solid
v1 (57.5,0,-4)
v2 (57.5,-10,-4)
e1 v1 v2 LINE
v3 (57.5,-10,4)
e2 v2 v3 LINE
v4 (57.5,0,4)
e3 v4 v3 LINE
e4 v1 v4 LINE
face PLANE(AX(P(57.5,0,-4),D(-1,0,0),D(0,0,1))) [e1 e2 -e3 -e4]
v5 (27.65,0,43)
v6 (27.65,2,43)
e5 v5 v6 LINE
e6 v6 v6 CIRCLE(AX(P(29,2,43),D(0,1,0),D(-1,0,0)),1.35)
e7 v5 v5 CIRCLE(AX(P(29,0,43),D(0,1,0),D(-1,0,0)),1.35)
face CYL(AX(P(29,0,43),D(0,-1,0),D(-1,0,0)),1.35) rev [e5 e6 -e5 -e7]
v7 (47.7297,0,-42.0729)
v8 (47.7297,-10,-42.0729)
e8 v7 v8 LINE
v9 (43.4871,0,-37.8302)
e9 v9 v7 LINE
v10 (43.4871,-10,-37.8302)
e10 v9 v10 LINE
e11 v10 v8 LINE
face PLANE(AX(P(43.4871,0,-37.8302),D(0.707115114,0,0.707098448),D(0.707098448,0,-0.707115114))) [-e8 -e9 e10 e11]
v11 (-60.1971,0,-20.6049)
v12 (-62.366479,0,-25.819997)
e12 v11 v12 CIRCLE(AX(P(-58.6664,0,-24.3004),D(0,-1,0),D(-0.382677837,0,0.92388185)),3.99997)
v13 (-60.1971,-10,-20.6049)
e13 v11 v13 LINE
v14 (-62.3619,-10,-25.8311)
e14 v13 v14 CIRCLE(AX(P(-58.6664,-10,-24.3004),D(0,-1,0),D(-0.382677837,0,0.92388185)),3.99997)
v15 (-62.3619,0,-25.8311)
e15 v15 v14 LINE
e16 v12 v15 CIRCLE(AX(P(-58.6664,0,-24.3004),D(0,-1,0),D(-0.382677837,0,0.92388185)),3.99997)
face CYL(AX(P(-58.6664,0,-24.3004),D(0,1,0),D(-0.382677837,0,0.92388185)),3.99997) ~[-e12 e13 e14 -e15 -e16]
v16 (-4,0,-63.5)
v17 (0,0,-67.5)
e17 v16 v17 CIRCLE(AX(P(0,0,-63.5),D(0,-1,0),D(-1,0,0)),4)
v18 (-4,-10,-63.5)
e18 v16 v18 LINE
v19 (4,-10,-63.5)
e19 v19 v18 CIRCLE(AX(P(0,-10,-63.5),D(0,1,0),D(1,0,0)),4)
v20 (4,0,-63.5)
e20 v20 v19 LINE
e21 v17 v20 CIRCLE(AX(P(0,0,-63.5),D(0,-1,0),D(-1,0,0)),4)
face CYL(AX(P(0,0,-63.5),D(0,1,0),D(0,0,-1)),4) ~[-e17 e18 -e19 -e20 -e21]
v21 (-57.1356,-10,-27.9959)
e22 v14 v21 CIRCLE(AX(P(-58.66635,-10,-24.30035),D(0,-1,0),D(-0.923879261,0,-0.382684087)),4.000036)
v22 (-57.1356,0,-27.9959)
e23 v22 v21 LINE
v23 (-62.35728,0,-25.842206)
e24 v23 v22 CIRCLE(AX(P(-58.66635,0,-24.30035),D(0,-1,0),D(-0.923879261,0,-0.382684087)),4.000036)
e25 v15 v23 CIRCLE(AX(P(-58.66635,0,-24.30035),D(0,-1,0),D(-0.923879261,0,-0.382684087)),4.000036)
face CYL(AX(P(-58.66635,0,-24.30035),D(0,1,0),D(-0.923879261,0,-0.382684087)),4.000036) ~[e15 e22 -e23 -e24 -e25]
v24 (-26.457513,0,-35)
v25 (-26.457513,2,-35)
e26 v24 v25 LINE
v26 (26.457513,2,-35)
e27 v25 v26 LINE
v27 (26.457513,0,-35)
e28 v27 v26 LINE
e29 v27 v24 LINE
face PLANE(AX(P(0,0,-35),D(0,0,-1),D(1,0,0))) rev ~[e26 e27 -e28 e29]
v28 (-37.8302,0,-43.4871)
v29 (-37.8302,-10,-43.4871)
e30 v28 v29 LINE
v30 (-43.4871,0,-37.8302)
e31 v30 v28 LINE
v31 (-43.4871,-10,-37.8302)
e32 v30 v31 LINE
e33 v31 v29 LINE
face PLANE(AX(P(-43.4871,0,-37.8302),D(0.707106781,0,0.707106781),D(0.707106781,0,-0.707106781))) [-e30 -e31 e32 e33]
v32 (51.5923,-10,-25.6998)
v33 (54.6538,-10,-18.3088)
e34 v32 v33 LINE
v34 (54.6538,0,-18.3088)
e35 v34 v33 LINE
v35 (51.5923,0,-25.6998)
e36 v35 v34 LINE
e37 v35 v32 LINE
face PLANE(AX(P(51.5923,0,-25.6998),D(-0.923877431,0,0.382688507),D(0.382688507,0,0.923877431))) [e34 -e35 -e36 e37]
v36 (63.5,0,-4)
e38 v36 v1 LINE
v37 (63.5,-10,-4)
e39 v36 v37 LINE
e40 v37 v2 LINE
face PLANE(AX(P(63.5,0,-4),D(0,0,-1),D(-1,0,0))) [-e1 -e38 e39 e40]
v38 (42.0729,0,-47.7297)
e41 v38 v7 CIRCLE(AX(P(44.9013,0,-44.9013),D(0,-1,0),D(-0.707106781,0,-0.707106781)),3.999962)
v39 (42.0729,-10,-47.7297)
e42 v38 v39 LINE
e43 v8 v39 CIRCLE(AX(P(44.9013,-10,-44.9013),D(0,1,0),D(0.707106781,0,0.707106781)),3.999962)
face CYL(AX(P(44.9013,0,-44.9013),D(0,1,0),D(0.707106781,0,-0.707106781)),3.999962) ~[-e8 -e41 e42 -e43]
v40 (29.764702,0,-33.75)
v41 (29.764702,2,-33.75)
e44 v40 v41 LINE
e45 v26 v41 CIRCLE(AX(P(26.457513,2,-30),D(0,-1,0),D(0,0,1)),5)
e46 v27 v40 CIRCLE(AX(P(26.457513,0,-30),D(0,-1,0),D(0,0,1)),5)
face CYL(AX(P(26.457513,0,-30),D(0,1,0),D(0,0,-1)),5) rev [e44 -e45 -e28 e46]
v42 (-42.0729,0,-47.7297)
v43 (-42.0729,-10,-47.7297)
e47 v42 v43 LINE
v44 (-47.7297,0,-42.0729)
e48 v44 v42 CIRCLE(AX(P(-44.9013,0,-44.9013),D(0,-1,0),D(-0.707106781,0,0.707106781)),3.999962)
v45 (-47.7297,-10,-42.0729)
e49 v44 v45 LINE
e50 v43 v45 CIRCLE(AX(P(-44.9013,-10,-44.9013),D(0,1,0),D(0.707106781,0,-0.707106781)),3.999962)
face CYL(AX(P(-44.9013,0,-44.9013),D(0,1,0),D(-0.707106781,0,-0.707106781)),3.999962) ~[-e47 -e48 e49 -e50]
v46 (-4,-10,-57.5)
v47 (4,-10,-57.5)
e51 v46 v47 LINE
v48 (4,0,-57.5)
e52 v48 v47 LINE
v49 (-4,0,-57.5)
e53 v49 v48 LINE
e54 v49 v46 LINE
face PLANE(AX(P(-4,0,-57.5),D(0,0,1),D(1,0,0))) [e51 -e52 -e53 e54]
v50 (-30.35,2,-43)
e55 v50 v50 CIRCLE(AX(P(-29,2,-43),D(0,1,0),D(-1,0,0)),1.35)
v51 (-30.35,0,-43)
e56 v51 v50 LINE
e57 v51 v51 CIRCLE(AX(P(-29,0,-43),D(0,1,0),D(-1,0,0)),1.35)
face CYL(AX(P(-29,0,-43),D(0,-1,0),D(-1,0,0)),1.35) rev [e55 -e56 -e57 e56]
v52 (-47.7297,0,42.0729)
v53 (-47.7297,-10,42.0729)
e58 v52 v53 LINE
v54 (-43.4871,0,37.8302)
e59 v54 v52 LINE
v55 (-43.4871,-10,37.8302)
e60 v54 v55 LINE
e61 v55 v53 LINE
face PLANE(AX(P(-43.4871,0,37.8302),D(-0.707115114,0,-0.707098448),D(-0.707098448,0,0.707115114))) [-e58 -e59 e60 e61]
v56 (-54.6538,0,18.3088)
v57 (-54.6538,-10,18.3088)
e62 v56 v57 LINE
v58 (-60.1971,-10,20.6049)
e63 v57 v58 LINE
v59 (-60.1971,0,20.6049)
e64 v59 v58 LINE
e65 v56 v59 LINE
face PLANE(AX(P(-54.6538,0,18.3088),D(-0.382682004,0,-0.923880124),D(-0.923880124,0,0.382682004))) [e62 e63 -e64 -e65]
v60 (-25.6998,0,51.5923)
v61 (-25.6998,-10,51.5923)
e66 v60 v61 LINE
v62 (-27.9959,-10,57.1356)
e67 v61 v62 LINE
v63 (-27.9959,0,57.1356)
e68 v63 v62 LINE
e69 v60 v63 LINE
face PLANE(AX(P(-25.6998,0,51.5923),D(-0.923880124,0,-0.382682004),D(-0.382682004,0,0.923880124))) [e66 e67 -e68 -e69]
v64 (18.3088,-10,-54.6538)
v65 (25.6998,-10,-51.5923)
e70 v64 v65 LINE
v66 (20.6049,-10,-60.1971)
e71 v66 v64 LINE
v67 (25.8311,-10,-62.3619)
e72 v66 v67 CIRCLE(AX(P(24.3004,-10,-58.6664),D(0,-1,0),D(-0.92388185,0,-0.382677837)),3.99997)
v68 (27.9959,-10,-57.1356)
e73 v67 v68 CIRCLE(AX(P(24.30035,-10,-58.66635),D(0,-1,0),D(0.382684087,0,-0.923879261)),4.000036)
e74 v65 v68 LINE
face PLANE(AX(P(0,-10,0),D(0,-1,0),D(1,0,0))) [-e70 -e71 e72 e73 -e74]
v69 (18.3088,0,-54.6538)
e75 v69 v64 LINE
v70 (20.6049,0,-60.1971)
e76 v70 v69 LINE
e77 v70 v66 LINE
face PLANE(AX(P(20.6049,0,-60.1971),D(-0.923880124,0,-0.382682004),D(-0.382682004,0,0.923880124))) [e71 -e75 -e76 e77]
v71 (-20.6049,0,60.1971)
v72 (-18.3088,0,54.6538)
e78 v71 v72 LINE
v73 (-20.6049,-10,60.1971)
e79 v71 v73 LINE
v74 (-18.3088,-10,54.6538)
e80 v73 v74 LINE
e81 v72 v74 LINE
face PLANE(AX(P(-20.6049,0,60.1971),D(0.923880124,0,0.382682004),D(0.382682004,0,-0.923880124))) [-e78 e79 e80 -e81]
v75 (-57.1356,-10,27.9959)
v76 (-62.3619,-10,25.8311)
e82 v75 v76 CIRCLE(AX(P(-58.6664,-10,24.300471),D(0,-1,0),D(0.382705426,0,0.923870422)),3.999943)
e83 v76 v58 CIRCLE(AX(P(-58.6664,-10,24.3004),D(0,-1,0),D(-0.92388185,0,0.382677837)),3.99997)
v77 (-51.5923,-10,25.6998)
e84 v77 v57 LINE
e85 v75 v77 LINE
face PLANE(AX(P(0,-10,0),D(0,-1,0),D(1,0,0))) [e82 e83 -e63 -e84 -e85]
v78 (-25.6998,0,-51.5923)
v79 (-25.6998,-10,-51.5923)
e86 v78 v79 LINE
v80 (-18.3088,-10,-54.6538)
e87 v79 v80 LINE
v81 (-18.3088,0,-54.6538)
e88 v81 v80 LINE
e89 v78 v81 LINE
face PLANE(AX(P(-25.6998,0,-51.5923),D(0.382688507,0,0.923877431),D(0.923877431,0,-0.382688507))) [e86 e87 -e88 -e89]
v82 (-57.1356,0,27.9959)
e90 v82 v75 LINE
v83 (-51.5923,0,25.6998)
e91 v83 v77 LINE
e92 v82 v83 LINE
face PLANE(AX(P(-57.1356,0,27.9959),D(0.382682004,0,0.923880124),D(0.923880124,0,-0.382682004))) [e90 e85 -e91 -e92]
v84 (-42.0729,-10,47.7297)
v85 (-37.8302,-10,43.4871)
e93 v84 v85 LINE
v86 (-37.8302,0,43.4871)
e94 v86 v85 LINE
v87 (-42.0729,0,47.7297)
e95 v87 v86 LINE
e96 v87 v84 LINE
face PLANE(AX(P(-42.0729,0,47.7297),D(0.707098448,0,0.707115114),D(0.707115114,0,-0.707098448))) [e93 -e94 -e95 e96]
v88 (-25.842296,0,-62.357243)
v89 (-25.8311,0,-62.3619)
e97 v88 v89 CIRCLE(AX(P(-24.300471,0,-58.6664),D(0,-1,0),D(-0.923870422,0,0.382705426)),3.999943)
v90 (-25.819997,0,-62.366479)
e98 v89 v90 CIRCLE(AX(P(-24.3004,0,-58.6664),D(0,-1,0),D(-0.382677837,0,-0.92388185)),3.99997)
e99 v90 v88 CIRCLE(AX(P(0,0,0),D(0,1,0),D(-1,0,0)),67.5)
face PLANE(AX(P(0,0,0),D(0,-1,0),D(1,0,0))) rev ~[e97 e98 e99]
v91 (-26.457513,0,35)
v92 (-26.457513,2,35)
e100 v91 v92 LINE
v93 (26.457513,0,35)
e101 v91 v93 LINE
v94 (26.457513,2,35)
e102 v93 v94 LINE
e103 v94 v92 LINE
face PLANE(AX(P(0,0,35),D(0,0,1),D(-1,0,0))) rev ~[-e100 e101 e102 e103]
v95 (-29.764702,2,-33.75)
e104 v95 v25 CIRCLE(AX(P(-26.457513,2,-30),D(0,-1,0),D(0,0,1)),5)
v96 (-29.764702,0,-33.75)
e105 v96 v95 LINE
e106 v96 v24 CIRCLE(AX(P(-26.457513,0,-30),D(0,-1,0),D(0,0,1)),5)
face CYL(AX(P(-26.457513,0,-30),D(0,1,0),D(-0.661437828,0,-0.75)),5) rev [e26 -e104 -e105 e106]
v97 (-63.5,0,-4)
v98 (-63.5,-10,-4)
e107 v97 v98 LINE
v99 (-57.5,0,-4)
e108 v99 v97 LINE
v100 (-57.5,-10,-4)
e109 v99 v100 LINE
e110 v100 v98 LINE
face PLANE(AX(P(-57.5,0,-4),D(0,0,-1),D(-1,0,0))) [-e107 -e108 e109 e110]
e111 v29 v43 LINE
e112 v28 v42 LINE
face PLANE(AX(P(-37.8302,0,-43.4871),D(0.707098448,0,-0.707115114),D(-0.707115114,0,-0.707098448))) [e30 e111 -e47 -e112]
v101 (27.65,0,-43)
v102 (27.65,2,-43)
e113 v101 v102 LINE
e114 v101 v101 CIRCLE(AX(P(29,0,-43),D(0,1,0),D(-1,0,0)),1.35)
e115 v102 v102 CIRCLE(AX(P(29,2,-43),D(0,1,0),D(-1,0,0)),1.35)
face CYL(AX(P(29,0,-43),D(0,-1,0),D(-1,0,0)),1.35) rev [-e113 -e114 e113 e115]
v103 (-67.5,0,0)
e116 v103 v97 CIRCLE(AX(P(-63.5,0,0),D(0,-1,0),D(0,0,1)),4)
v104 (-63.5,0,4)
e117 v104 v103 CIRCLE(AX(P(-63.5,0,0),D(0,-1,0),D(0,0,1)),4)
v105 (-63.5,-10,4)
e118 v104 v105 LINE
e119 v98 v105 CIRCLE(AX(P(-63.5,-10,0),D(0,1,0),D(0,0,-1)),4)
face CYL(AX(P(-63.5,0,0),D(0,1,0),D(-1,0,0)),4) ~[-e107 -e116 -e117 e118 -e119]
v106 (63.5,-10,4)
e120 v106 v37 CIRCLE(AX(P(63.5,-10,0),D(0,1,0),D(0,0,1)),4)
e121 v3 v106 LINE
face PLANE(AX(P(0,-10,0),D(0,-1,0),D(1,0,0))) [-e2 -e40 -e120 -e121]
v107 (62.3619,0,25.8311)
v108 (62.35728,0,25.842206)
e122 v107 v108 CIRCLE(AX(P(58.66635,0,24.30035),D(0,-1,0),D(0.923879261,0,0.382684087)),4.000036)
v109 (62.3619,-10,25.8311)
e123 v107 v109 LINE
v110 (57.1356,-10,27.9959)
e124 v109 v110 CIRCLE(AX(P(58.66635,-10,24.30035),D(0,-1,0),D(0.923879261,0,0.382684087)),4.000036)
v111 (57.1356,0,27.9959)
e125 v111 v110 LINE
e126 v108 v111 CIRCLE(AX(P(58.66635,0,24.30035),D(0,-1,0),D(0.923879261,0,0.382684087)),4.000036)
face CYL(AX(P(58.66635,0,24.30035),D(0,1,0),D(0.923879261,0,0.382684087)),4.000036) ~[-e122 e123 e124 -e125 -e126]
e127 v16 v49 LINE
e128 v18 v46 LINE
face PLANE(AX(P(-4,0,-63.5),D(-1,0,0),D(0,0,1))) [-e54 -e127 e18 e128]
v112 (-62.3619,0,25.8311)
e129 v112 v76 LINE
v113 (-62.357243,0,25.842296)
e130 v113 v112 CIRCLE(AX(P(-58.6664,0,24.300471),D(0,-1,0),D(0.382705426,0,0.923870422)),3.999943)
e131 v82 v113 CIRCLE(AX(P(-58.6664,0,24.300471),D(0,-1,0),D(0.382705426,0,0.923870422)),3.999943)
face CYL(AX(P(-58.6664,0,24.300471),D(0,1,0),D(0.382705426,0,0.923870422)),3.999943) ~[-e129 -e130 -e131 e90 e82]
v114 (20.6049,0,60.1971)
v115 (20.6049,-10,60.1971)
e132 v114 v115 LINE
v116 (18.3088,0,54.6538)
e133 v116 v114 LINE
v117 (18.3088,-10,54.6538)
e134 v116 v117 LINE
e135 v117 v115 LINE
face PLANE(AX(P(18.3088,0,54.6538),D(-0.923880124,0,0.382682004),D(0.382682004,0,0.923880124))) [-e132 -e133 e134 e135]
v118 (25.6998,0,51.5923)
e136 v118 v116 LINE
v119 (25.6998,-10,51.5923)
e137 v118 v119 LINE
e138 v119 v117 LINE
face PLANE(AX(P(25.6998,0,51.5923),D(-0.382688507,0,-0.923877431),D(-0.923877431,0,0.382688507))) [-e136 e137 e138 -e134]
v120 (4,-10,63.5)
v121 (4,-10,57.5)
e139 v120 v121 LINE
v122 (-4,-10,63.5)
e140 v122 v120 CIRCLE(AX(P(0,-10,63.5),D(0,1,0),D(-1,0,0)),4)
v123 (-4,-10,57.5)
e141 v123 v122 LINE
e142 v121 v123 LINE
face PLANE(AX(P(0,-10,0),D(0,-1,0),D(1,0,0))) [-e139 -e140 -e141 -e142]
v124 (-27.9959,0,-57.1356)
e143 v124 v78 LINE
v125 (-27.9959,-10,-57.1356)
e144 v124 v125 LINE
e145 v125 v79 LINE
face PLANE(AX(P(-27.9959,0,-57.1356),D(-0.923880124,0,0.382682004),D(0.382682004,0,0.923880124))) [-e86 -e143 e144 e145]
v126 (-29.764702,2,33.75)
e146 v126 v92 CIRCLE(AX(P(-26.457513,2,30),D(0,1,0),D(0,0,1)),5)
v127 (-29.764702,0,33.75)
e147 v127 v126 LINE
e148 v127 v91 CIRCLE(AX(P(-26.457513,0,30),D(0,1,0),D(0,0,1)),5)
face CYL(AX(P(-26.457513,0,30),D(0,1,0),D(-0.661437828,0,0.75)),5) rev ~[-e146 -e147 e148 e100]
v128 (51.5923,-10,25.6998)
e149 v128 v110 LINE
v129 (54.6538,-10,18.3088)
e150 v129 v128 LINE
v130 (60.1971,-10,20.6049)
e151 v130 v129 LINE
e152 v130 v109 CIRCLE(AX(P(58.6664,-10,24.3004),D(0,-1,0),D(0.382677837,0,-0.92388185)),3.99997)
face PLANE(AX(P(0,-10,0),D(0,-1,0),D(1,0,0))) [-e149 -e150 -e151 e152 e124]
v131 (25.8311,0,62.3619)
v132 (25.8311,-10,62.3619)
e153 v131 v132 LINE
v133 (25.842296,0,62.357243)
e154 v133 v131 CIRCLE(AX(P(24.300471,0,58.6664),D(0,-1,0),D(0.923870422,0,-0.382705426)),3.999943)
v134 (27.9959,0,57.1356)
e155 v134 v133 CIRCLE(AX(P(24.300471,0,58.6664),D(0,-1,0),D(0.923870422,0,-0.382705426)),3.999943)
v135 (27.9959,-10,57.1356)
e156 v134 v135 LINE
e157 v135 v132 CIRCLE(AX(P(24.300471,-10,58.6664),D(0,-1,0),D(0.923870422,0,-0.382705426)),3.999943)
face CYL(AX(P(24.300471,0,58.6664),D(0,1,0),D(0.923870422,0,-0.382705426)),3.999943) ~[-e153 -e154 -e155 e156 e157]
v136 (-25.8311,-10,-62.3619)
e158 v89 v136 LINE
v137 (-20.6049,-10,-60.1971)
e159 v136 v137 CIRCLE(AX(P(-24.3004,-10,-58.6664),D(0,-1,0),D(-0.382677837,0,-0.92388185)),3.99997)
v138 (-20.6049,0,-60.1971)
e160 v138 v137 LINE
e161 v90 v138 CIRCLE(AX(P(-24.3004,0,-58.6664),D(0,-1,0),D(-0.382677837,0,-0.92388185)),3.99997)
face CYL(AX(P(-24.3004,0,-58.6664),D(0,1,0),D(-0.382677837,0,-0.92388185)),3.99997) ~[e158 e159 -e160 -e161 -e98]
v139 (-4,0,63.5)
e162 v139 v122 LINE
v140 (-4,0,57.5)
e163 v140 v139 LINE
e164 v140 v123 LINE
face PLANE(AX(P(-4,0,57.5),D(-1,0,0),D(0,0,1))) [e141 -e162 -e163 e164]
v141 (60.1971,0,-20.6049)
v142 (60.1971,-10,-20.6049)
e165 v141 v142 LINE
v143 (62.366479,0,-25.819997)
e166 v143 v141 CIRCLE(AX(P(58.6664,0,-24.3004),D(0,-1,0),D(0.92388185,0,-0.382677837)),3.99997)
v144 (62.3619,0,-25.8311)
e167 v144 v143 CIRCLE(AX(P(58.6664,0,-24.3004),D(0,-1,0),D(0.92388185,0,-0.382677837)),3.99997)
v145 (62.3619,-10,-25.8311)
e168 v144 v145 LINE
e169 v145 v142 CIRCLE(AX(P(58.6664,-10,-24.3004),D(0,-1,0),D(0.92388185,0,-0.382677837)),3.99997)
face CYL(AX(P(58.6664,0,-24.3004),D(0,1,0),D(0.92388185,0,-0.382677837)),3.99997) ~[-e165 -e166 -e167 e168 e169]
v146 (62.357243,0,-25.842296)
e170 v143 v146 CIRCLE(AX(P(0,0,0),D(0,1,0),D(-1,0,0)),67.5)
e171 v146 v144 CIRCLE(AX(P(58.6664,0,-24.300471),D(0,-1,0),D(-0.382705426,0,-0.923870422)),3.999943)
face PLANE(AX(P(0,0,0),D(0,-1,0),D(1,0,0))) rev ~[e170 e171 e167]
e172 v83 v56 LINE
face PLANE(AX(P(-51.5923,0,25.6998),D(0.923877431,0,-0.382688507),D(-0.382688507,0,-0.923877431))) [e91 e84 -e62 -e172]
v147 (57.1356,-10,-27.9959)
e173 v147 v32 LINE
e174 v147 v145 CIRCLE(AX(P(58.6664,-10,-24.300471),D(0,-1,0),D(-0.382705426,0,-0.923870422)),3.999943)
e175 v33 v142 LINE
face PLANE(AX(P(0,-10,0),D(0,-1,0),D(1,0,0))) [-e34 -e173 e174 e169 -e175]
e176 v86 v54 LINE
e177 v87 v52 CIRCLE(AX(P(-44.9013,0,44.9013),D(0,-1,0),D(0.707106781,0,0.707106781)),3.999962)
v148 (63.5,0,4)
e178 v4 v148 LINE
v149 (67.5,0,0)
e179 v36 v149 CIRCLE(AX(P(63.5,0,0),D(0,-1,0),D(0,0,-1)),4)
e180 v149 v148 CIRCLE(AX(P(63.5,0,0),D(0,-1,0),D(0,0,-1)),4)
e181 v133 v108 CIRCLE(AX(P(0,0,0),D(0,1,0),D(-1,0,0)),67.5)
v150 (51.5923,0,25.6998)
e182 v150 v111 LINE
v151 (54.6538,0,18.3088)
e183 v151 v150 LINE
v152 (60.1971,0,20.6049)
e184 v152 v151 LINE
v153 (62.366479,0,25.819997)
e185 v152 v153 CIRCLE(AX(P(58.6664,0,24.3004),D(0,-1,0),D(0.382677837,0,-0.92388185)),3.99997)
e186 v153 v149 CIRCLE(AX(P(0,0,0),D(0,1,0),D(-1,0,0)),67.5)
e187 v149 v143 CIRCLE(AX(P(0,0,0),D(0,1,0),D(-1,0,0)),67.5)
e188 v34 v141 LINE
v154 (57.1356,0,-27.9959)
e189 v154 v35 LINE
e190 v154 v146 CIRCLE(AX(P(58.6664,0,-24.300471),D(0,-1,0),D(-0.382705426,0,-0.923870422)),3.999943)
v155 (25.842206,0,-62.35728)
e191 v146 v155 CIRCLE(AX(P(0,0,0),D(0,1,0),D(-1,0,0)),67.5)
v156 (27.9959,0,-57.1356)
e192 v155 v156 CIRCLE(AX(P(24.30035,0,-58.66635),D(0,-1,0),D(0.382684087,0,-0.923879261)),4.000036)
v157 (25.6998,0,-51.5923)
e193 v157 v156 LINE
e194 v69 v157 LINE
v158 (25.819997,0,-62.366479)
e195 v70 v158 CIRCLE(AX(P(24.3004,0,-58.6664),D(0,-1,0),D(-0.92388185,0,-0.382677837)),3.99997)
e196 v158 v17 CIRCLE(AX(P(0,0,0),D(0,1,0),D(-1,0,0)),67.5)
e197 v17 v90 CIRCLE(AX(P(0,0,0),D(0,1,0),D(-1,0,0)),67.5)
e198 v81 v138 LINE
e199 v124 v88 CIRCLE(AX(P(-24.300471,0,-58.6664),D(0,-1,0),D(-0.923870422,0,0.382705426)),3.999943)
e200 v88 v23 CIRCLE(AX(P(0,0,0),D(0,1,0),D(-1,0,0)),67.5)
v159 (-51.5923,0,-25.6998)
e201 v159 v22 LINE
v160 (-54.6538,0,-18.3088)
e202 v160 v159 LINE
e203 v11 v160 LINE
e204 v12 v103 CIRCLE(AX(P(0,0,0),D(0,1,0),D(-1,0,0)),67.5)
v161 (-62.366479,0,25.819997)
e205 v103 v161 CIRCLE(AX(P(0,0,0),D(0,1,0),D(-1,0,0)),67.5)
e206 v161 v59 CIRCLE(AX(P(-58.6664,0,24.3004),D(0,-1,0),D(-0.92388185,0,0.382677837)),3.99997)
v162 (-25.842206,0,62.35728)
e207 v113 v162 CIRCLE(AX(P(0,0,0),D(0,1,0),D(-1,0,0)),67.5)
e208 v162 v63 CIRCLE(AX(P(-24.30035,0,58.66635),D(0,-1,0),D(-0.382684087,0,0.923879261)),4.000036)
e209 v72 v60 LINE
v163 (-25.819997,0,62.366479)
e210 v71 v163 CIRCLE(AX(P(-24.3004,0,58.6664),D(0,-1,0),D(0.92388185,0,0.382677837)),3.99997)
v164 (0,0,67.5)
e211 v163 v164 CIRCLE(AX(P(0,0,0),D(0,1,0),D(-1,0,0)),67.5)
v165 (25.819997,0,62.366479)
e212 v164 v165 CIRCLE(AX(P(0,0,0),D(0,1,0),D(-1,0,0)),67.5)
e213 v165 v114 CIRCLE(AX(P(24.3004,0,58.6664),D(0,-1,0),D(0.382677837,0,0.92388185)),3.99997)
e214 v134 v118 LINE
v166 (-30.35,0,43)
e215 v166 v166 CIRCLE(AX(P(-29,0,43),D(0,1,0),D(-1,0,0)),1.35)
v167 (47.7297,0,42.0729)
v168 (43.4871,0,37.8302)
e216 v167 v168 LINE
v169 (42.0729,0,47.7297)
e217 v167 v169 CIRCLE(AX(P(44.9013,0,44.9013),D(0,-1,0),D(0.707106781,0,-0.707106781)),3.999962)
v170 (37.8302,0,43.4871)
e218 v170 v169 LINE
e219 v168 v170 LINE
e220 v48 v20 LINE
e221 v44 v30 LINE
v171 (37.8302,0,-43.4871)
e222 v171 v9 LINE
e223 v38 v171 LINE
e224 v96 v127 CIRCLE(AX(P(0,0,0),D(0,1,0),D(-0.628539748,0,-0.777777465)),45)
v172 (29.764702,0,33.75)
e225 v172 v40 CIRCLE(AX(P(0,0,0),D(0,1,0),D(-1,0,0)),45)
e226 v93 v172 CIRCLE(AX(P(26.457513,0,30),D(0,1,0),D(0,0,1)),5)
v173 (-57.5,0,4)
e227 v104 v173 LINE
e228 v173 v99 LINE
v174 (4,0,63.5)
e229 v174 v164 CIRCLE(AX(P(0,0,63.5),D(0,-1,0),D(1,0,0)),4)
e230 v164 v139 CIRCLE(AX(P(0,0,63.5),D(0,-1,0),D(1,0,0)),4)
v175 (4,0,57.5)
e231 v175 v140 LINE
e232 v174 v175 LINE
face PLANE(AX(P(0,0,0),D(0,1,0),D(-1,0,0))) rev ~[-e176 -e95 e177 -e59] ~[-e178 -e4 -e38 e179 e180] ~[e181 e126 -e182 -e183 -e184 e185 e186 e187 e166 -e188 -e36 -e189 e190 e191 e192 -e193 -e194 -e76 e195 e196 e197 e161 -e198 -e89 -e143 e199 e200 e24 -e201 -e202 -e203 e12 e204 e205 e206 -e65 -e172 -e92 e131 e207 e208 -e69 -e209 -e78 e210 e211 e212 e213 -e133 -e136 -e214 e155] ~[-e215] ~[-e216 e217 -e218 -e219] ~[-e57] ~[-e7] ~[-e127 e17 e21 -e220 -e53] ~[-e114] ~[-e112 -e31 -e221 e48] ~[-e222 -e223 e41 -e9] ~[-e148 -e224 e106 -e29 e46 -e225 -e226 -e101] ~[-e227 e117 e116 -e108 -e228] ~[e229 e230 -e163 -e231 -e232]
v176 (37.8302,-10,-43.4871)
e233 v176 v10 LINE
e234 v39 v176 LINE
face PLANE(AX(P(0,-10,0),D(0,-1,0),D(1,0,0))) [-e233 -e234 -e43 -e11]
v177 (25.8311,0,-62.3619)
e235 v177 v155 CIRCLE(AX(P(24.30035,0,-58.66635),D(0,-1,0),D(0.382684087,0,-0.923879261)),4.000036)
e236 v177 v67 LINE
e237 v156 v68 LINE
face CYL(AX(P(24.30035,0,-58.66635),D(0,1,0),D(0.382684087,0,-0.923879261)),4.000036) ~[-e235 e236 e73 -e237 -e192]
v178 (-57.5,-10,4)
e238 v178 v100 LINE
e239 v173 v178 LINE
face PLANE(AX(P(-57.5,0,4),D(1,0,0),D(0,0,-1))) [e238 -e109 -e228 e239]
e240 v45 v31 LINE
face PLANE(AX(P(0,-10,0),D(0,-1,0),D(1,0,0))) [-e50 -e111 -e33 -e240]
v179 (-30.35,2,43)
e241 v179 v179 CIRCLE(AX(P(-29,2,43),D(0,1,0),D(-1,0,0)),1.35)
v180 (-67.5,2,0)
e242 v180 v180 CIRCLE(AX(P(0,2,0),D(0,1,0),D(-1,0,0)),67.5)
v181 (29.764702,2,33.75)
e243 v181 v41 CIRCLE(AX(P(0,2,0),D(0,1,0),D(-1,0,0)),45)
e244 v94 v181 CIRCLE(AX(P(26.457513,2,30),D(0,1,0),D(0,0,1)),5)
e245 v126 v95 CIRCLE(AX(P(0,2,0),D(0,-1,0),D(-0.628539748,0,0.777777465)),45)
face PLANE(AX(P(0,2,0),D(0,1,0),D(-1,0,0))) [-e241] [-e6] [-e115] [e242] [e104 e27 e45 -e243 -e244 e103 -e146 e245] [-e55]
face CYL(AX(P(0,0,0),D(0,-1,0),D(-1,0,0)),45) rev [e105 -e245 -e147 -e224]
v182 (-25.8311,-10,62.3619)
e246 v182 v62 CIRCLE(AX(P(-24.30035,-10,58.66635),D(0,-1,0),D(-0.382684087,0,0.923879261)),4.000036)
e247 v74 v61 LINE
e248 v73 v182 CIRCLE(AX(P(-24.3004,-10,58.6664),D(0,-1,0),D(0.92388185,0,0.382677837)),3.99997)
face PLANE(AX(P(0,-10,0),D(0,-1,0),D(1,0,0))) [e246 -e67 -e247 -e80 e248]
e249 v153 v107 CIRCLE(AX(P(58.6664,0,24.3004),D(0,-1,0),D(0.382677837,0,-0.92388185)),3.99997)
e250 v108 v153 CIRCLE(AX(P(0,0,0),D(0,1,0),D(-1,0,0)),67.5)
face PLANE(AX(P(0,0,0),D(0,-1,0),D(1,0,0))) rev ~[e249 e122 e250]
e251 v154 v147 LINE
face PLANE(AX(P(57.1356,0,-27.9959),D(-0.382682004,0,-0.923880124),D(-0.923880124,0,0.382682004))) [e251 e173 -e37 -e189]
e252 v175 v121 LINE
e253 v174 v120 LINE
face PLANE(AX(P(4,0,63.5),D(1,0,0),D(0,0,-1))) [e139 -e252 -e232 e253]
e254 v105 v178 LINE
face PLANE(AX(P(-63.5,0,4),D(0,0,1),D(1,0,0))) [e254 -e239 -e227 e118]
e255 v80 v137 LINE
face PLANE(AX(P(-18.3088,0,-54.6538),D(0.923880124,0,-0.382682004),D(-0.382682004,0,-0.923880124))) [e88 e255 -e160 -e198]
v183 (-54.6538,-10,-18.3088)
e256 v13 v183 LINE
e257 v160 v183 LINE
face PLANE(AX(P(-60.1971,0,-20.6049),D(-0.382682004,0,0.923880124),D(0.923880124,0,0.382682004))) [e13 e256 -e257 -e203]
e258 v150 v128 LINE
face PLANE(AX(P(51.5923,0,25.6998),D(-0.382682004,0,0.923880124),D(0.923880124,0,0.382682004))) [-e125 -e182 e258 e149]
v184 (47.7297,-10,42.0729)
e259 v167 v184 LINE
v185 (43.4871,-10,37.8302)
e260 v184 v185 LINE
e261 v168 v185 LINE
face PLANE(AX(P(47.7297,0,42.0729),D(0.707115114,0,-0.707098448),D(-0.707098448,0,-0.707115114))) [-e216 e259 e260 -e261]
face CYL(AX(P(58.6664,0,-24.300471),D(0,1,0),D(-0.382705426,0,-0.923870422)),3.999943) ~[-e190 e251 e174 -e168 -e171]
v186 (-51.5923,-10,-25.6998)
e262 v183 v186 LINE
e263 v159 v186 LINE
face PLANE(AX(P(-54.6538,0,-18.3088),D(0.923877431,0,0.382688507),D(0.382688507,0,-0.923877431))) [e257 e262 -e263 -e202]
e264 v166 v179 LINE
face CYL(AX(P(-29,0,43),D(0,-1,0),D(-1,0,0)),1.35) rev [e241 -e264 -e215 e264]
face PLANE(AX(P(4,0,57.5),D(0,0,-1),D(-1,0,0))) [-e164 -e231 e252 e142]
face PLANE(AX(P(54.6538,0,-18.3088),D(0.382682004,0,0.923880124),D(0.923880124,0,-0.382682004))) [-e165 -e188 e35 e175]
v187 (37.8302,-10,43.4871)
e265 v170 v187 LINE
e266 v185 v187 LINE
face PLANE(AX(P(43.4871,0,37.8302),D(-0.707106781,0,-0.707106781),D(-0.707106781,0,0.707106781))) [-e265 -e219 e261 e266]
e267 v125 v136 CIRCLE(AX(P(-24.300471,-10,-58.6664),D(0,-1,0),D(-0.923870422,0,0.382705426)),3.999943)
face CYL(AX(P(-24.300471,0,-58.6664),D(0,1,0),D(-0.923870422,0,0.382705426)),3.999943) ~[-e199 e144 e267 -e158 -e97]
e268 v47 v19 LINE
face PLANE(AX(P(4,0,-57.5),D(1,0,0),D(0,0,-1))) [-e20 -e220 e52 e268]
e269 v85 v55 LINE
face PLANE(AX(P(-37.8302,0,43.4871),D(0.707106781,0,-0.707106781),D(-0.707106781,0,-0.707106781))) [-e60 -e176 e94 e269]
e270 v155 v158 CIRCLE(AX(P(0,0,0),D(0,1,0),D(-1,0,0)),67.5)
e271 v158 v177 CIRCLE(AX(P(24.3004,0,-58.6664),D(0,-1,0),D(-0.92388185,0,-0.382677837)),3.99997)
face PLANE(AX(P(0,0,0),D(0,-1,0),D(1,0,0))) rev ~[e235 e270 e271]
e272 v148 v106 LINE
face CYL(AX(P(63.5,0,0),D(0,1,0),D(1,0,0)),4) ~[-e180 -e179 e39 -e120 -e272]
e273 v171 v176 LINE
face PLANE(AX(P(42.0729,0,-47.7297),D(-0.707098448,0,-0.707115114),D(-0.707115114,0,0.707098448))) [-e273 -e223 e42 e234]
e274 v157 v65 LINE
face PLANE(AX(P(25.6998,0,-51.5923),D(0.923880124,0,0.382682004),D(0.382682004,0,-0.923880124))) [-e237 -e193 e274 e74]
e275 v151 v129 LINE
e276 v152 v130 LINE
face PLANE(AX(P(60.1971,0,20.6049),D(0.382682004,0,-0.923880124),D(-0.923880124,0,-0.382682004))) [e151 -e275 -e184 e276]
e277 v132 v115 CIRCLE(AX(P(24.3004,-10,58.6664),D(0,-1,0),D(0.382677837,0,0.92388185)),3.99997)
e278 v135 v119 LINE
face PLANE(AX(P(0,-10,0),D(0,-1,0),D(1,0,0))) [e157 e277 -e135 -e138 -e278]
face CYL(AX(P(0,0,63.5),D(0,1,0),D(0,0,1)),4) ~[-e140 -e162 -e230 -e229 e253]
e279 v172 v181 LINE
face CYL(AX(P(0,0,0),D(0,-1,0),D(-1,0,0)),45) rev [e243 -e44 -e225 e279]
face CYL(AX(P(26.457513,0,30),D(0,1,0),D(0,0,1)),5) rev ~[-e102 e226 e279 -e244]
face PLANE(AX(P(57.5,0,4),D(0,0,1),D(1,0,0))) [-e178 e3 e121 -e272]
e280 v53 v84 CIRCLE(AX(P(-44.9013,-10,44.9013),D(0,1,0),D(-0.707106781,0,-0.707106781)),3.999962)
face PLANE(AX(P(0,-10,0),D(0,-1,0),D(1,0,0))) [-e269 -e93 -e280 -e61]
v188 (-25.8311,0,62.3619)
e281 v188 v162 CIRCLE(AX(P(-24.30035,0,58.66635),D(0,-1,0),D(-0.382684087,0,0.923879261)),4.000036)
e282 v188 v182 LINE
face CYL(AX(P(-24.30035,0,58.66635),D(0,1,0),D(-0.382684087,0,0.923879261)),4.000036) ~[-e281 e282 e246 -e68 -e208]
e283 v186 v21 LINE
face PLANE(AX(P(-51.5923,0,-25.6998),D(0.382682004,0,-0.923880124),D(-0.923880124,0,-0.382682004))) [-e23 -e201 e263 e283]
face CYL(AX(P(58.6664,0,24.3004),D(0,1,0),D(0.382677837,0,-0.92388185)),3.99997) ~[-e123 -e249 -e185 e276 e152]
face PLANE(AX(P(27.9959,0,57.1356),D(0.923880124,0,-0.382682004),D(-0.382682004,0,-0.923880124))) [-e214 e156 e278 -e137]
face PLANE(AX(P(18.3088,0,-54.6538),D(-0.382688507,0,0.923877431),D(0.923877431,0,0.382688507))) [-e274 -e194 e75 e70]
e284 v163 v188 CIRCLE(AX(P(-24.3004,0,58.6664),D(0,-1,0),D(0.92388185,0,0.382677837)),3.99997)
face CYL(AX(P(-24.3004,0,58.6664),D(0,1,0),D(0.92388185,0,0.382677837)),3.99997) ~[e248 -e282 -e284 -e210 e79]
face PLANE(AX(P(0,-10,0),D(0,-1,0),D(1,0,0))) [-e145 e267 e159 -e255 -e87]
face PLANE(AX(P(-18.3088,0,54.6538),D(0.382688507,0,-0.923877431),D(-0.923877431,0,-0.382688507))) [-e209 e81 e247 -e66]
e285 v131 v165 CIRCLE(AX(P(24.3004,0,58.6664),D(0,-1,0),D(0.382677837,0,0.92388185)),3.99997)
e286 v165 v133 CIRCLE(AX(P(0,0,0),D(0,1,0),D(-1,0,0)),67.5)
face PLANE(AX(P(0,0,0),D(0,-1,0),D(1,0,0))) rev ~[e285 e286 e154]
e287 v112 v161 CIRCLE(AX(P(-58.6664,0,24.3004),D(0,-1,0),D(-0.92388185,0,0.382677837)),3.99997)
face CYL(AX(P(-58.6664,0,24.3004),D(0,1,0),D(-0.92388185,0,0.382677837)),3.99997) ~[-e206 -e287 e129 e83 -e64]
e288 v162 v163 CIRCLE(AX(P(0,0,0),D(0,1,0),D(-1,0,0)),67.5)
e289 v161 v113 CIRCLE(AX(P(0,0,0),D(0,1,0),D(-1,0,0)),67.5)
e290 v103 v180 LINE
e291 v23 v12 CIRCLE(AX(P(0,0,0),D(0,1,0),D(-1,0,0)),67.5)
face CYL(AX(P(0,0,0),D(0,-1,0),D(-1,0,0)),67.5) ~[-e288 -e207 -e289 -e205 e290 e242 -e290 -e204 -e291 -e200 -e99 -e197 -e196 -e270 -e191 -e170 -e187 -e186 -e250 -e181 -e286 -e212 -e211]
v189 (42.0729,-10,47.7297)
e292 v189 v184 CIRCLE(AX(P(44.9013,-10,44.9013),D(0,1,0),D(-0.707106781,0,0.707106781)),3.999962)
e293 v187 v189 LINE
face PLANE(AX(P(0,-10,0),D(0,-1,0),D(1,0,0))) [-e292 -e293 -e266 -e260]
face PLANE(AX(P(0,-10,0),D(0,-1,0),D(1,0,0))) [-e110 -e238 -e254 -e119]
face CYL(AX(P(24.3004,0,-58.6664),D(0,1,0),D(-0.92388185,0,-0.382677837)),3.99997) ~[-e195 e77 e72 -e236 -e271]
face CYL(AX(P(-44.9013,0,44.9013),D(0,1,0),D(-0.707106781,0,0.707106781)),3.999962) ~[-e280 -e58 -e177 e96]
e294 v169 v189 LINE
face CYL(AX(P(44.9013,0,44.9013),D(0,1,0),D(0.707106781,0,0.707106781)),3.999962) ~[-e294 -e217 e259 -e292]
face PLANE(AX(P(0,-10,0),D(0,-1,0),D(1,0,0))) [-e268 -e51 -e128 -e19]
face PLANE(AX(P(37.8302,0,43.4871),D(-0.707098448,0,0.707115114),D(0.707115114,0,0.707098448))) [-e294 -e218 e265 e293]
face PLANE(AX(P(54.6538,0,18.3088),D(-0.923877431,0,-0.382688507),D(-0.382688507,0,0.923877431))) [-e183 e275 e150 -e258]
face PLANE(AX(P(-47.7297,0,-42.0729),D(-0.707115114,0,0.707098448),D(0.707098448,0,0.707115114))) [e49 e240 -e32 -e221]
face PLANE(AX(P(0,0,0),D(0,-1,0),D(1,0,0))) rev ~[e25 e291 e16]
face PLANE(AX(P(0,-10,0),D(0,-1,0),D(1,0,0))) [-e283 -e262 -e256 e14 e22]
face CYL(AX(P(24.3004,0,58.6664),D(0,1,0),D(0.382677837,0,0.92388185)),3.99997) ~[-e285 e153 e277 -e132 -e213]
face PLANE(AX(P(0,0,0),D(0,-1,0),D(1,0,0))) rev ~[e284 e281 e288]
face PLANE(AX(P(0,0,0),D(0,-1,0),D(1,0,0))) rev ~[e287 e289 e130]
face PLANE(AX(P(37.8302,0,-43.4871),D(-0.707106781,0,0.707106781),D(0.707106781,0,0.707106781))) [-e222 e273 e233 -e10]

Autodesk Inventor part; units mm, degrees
ref_plane "YZ Plane" through (0, 0, 0) normal (1, 0, 0) x (0, 1, 0)
ref_plane "XZ Plane" through (0, 0, 0) normal (0, 1, 0) x (-1, 0, 0)
ref_plane "XY Plane" through (0, 0, 0) normal (0, 0, 1) x (1, 0, 0)
sketch "Sketch1" plane through (0, 0, 0) normal (0, 1, 0) x (-1, 0, 0)
  circle A0 centre (0, 0) radius 67.5
  line L0 (0, 0) -> (67.5, 0) construction
  line L1 (0, 0) -> (0, -67.5) construction
  circle A1 centre (0, 0) radius 45
  line L2 (0, 45) -> (0, 35)
  line L3 (0, 35) -> (-28.2843, 35)
  line L4 (0, 35) -> (28.2843, 35)
  line L5 (0, 0) -> (67.5, 0) construction
  line L6 (0, 0) -> (-45, 0) construction
  circle A2 centre (29, 43) radius 1.35
  circle A3 centre (-29, 43) radius 1.35
  circle A4 centre (29, -43) radius 1.35
  circle A5 centre (-29, -43) radius 1.35
  line L7 (0, -35) -> (-28.2843, -35)
  line L8 (0, -35) -> (28.2843, -35)
  point P0 (0, -45)
  dimension "d0" = 135
  dimension "d18" = 90
  dimension "d19" = 10
  dimension "d21" = 70
  dimension "d28" = 67.5
  dimension "d29" = 86
  dimension "d30" = 29
  dimension "d31" = 2.7
extrude "Extrusion1" add sketch "Sketch1" along normal blind 2 contours A0 | L4 L2 A1 | A1 L7 L8 | L2 L3 A1
sketch "Sketch2" plane through (0, 0, 0) normal (0, -1, 0) x (1, 0, 0)
  circle A0 centre (0, 0) radius 67.5 construction
  line L0 (67.5, 0) -> (62.5, 0) construction
  line L1 (57.5, 4) -> (63.5, 4)
  line L2 (67.5, 0) -> (67.5, 0)
  line L3 (63.5, -4) -> (57.5, -4)
  line L4 (57.5, -4) -> (57.5, 4)
  line L5 (57.5, 4) -> (67.5, -4) construction
  line L6 (67.5, 4) -> (57.5, -4) construction
  arc A1 (63.5, -4) -> (67.5, 0) centre (63.5, 0) ccw
  arc A2 (67.5, 0) -> (63.5, 4) centre (63.5, 0) ccw
  line L7 (62.3619, 25.8311) -> (57.7425, 23.9177) construction
  line L8 (51.5923, 25.6998) -> (57.1356, 27.9959)
  line L9 (62.3619, 25.8311) -> (62.3619, 25.8311)
  line L10 (60.1971, 20.6049) -> (54.6538, 18.3088)
  line L11 (54.6538, 18.3088) -> (51.5923, 25.6998)
  line L12 (51.5923, 25.6998) -> (63.8926, 22.1356) construction
  line L13 (60.8311, 29.5266) -> (54.6538, 18.3088) construction
  arc A3 (60.1971, 20.6049) -> (62.3619, 25.8311) centre (58.6664, 24.3004) ccw
  arc A4 (62.3619, 25.8311) -> (57.1356, 27.9959) centre (58.6664, 24.3004) ccw
  line L14 (47.7297, 47.7297) -> (44.1942, 44.1942) construction
  line L15 (37.8302, 43.4871) -> (42.0729, 47.7297)
  line L16 (47.7297, 47.7297) -> (47.7297, 47.7297)
  line L17 (47.7297, 42.0729) -> (43.4871, 37.8302)
  line L18 (43.4871, 37.8302) -> (37.8302, 43.4871)
  line L19 (37.8302, 43.4871) -> (50.5581, 44.9013) construction
  line L20 (44.9013, 50.5581) -> (43.4871, 37.8302) construction
  arc A5 (47.7297, 42.0729) -> (47.7297, 47.7297) centre (44.9013, 44.9013) ccw
  arc A6 (47.7297, 47.7297) -> (42.0729, 47.7297) centre (44.9013, 44.9013) ccw
  line L21 (25.8311, 62.3619) -> (23.9177, 57.7425) construction
  line L22 (18.3088, 54.6538) -> (20.6049, 60.1971)
  line L23 (25.8311, 62.3619) -> (25.8311, 62.3619)
  line L24 (27.9959, 57.1356) -> (25.6998, 51.5923)
  line L25 (25.6998, 51.5923) -> (18.3088, 54.6538)
  line L26 (18.3088, 54.6538) -> (29.5266, 60.8311) construction
  line L27 (22.1356, 63.8926) -> (25.6998, 51.5923) construction
  arc A7 (27.9959, 57.1356) -> (25.8311, 62.3619) centre (24.3004, 58.6664) ccw
  arc A8 (25.8311, 62.3619) -> (20.6049, 60.1971) centre (24.3004, 58.6664) ccw
  line L28 (0, 67.5) -> (0, 62.5) construction
  line L29 (-4, 57.5) -> (-4, 63.5)
  line L30 (0, 67.5) -> (0, 67.5)
  line L31 (4, 63.5) -> (4, 57.5)
  line L32 (4, 57.5) -> (-4, 57.5)
  line L33 (-4, 57.5) -> (4, 67.5) construction
  line L34 (-4, 67.5) -> (4, 57.5) construction
  arc A9 (4, 63.5) -> (0, 67.5) centre (0, 63.5) ccw
  arc A10 (0, 67.5) -> (-4, 63.5) centre (0, 63.5) ccw
  line L35 (-25.8311, 62.3619) -> (-23.9177, 57.7425) construction
  line L36 (-25.6998, 51.5923) -> (-27.9959, 57.1356)
  line L37 (-25.8311, 62.3619) -> (-25.8311, 62.3619)
  line L38 (-20.6049, 60.1971) -> (-18.3088, 54.6538)
  line L39 (-18.3088, 54.6538) -> (-25.6998, 51.5923)
  line L40 (-25.6998, 51.5923) -> (-22.1356, 63.8926) construction
  line L41 (-29.5266, 60.8311) -> (-18.3088, 54.6538) construction
  arc A11 (-20.6049, 60.1971) -> (-25.8311, 62.3619) centre (-24.3004, 58.6664) ccw
  arc A12 (-25.8311, 62.3619) -> (-27.9959, 57.1356) centre (-24.3004, 58.6664) ccw
  line L42 (-47.7297, 47.7297) -> (-44.1942, 44.1942) construction
  line L43 (-43.4871, 37.8302) -> (-47.7297, 42.0729)
  line L44 (-47.7297, 47.7297) -> (-47.7297, 47.7297)
  line L45 (-42.0729, 47.7297) -> (-37.8302, 43.4871)
  line L46 (-37.8302, 43.4871) -> (-43.4871, 37.8302)
  line L47 (-43.4871, 37.8302) -> (-44.9013, 50.5581) construction
  line L48 (-50.5581, 44.9013) -> (-37.8302, 43.4871) construction
  arc A13 (-42.0729, 47.7297) -> (-47.7297, 47.7297) centre (-44.9013, 44.9013) ccw
  arc A14 (-47.7297, 47.7297) -> (-47.7297, 42.0729) centre (-44.9013, 44.9013) ccw
  line L49 (-62.3619, 25.8311) -> (-57.7425, 23.9177) construction
  line L50 (-54.6538, 18.3088) -> (-60.1971, 20.6049)
  line L51 (-62.3619, 25.8311) -> (-62.3619, 25.8311)
  line L52 (-57.1356, 27.9959) -> (-51.5923, 25.6998)
  line L53 (-51.5923, 25.6998) -> (-54.6538, 18.3088)
  line L54 (-54.6538, 18.3088) -> (-60.8311, 29.5266) construction
  line L55 (-63.8926, 22.1356) -> (-51.5923, 25.6998) construction
  arc A15 (-57.1356, 27.9959) -> (-62.3619, 25.8311) centre (-58.6664, 24.3004) ccw
  arc A16 (-62.3619, 25.8311) -> (-60.1971, 20.6049) centre (-58.6664, 24.3004) ccw
  line L56 (-67.5, 0) -> (-62.5, 0) construction
  line L57 (-57.5, -4) -> (-63.5, -4)
  line L58 (-67.5, 0) -> (-67.5, 0)
  line L59 (-63.5, 4) -> (-57.5, 4)
  line L60 (-57.5, 4) -> (-57.5, -4)
  line L61 (-57.5, -4) -> (-67.5, 4) construction
  line L62 (-67.5, -4) -> (-57.5, 4) construction
  arc A17 (-63.5, 4) -> (-67.5, 0) centre (-63.5, 0) ccw
  arc A18 (-67.5, 0) -> (-63.5, -4) centre (-63.5, 0) ccw
  line L63 (-62.3619, -25.8311) -> (-57.7425, -23.9177) construction
  line L64 (-51.5923, -25.6998) -> (-57.1356, -27.9959)
  line L65 (-62.3619, -25.8311) -> (-62.3619, -25.8311)
  line L66 (-60.1971, -20.6049) -> (-54.6538, -18.3088)
  line L67 (-54.6538, -18.3088) -> (-51.5923, -25.6998)
  line L68 (-51.5923, -25.6998) -> (-63.8926, -22.1356) construction
  line L69 (-60.8311, -29.5266) -> (-54.6538, -18.3088) construction
  arc A19 (-60.1971, -20.6049) -> (-62.3619, -25.8311) centre (-58.6664, -24.3004) ccw
  arc A20 (-62.3619, -25.8311) -> (-57.1356, -27.9959) centre (-58.6664, -24.3004) ccw
  line L70 (-47.7297, -47.7297) -> (-44.1942, -44.1942) construction
  line L71 (-37.8302, -43.4871) -> (-42.0729, -47.7297)
  line L72 (-47.7297, -47.7297) -> (-47.7297, -47.7297)
  line L73 (-47.7297, -42.0729) -> (-43.4871, -37.8302)
  line L74 (-43.4871, -37.8302) -> (-37.8302, -43.4871)
  line L75 (-37.8302, -43.4871) -> (-50.5581, -44.9013) construction
  line L76 (-44.9013, -50.5581) -> (-43.4871, -37.8302) construction
  arc A21 (-47.7297, -42.0729) -> (-47.7297, -47.7297) centre (-44.9013, -44.9013) ccw
  arc A22 (-47.7297, -47.7297) -> (-42.0729, -47.7297) centre (-44.9013, -44.9013) ccw
  line L77 (-25.8311, -62.3619) -> (-23.9177, -57.7425) construction
  line L78 (-18.3088, -54.6538) -> (-20.6049, -60.1971)
  line L79 (-25.8311, -62.3619) -> (-25.8311, -62.3619)
  line L80 (-27.9959, -57.1356) -> (-25.6998, -51.5923)
  line L81 (-25.6998, -51.5923) -> (-18.3088, -54.6538)
  line L82 (-18.3088, -54.6538) -> (-29.5266, -60.8311) construction
  line L83 (-22.1356, -63.8926) -> (-25.6998, -51.5923) construction
  arc A23 (-27.9959, -57.1356) -> (-25.8311, -62.3619) centre (-24.3004, -58.6664) ccw
  arc A24 (-25.8311, -62.3619) -> (-20.6049, -60.1971) centre (-24.3004, -58.6664) ccw
  line L84 (0, -67.5) -> (0, -62.5) construction
  line L85 (4, -57.5) -> (4, -63.5)
  line L86 (0, -67.5) -> (0, -67.5)
  line L87 (-4, -63.5) -> (-4, -57.5)
  line L88 (-4, -57.5) -> (4, -57.5)
  line L89 (4, -57.5) -> (-4, -67.5) construction
  line L90 (4, -67.5) -> (-4, -57.5) construction
  arc A25 (-4, -63.5) -> (0, -67.5) centre (0, -63.5) ccw
  arc A26 (0, -67.5) -> (4, -63.5) centre (0, -63.5) ccw
  line L91 (25.8311, -62.3619) -> (23.9177, -57.7425) construction
  line L92 (25.6998, -51.5923) -> (27.9959, -57.1356)
  line L93 (25.8311, -62.3619) -> (25.8311, -62.3619)
  line L94 (20.6049, -60.1971) -> (18.3088, -54.6538)
  line L95 (18.3088, -54.6538) -> (25.6998, -51.5923)
  line L96 (25.6998, -51.5923) -> (22.1356, -63.8926) construction
  line L97 (29.5266, -60.8311) -> (18.3088, -54.6538) construction
  arc A27 (20.6049, -60.1971) -> (25.8311, -62.3619) centre (24.3004, -58.6664) ccw
  arc A28 (25.8311, -62.3619) -> (27.9959, -57.1356) centre (24.3004, -58.6664) ccw
  line L98 (47.7297, -47.7297) -> (44.1942, -44.1942) construction
  line L99 (43.4871, -37.8302) -> (47.7297, -42.0729)
  line L100 (47.7297, -47.7297) -> (47.7297, -47.7297)
  line L101 (42.0729, -47.7297) -> (37.8302, -43.4871)
  line L102 (37.8302, -43.4871) -> (43.4871, -37.8302)
  line L103 (43.4871, -37.8302) -> (44.9013, -50.5581) construction
  line L104 (50.5581, -44.9013) -> (37.8302, -43.4871) construction
  arc A29 (42.0729, -47.7297) -> (47.7297, -47.7297) centre (44.9013, -44.9013) ccw
  arc A30 (47.7297, -47.7297) -> (47.7297, -42.0729) centre (44.9013, -44.9013) ccw
  line L105 (62.3619, -25.8311) -> (57.7425, -23.9177) construction
  line L106 (54.6538, -18.3088) -> (60.1971, -20.6049)
  line L107 (62.3619, -25.8311) -> (62.3619, -25.8311)
  line L108 (57.1356, -27.9959) -> (51.5923, -25.6998)
  line L109 (51.5923, -25.6998) -> (54.6538, -18.3088)
  line L110 (54.6538, -18.3088) -> (60.8311, -29.5266) construction
  line L111 (63.8926, -22.1356) -> (51.5923, -25.6998) construction
  arc A31 (57.1356, -27.9959) -> (62.3619, -25.8311) centre (58.6664, -24.3004) ccw
  arc A32 (62.3619, -25.8311) -> (60.1971, -20.6049) centre (58.6664, -24.3004) ccw
  point P0 (-47.7297, -47.7297)
  point P1 (62.3619, 25.8311)
  point P2 (-62.3619, -25.8311)
  point P3 (-62.3619, 25.8311)
  point P4 (0, 67.5)
  point P5 (-47.7297, 47.7297)
  point P6 (-25.8311, 62.3619)
  point P7 (-25.8311, -62.3619)
  point P8 (25.8311, 62.3619)
  point P9 (-67.5, 0)
  point P10 (62.3619, -25.8311)
  point P11 (25.8311, -62.3619)
  point P12 (0, -67.5)
  dimension "d7" = 5
  dimension "d8" = 10
  dimension "d9" = 8
  dimension "d10" = 4
  dimension "d13" = 360
extrude "Extrusion2" add sketch "Sketch2" along normal blind 10
fillet "Fillet1" radius 5 4 edges at (-28.2843, 1, 35) (28.2843, 1, 35) (-28.2843, 1, -35) (28.2843, 1, -35)
equation "\"d28\" = 0.5 * d0"
properties part number "Main Board"
